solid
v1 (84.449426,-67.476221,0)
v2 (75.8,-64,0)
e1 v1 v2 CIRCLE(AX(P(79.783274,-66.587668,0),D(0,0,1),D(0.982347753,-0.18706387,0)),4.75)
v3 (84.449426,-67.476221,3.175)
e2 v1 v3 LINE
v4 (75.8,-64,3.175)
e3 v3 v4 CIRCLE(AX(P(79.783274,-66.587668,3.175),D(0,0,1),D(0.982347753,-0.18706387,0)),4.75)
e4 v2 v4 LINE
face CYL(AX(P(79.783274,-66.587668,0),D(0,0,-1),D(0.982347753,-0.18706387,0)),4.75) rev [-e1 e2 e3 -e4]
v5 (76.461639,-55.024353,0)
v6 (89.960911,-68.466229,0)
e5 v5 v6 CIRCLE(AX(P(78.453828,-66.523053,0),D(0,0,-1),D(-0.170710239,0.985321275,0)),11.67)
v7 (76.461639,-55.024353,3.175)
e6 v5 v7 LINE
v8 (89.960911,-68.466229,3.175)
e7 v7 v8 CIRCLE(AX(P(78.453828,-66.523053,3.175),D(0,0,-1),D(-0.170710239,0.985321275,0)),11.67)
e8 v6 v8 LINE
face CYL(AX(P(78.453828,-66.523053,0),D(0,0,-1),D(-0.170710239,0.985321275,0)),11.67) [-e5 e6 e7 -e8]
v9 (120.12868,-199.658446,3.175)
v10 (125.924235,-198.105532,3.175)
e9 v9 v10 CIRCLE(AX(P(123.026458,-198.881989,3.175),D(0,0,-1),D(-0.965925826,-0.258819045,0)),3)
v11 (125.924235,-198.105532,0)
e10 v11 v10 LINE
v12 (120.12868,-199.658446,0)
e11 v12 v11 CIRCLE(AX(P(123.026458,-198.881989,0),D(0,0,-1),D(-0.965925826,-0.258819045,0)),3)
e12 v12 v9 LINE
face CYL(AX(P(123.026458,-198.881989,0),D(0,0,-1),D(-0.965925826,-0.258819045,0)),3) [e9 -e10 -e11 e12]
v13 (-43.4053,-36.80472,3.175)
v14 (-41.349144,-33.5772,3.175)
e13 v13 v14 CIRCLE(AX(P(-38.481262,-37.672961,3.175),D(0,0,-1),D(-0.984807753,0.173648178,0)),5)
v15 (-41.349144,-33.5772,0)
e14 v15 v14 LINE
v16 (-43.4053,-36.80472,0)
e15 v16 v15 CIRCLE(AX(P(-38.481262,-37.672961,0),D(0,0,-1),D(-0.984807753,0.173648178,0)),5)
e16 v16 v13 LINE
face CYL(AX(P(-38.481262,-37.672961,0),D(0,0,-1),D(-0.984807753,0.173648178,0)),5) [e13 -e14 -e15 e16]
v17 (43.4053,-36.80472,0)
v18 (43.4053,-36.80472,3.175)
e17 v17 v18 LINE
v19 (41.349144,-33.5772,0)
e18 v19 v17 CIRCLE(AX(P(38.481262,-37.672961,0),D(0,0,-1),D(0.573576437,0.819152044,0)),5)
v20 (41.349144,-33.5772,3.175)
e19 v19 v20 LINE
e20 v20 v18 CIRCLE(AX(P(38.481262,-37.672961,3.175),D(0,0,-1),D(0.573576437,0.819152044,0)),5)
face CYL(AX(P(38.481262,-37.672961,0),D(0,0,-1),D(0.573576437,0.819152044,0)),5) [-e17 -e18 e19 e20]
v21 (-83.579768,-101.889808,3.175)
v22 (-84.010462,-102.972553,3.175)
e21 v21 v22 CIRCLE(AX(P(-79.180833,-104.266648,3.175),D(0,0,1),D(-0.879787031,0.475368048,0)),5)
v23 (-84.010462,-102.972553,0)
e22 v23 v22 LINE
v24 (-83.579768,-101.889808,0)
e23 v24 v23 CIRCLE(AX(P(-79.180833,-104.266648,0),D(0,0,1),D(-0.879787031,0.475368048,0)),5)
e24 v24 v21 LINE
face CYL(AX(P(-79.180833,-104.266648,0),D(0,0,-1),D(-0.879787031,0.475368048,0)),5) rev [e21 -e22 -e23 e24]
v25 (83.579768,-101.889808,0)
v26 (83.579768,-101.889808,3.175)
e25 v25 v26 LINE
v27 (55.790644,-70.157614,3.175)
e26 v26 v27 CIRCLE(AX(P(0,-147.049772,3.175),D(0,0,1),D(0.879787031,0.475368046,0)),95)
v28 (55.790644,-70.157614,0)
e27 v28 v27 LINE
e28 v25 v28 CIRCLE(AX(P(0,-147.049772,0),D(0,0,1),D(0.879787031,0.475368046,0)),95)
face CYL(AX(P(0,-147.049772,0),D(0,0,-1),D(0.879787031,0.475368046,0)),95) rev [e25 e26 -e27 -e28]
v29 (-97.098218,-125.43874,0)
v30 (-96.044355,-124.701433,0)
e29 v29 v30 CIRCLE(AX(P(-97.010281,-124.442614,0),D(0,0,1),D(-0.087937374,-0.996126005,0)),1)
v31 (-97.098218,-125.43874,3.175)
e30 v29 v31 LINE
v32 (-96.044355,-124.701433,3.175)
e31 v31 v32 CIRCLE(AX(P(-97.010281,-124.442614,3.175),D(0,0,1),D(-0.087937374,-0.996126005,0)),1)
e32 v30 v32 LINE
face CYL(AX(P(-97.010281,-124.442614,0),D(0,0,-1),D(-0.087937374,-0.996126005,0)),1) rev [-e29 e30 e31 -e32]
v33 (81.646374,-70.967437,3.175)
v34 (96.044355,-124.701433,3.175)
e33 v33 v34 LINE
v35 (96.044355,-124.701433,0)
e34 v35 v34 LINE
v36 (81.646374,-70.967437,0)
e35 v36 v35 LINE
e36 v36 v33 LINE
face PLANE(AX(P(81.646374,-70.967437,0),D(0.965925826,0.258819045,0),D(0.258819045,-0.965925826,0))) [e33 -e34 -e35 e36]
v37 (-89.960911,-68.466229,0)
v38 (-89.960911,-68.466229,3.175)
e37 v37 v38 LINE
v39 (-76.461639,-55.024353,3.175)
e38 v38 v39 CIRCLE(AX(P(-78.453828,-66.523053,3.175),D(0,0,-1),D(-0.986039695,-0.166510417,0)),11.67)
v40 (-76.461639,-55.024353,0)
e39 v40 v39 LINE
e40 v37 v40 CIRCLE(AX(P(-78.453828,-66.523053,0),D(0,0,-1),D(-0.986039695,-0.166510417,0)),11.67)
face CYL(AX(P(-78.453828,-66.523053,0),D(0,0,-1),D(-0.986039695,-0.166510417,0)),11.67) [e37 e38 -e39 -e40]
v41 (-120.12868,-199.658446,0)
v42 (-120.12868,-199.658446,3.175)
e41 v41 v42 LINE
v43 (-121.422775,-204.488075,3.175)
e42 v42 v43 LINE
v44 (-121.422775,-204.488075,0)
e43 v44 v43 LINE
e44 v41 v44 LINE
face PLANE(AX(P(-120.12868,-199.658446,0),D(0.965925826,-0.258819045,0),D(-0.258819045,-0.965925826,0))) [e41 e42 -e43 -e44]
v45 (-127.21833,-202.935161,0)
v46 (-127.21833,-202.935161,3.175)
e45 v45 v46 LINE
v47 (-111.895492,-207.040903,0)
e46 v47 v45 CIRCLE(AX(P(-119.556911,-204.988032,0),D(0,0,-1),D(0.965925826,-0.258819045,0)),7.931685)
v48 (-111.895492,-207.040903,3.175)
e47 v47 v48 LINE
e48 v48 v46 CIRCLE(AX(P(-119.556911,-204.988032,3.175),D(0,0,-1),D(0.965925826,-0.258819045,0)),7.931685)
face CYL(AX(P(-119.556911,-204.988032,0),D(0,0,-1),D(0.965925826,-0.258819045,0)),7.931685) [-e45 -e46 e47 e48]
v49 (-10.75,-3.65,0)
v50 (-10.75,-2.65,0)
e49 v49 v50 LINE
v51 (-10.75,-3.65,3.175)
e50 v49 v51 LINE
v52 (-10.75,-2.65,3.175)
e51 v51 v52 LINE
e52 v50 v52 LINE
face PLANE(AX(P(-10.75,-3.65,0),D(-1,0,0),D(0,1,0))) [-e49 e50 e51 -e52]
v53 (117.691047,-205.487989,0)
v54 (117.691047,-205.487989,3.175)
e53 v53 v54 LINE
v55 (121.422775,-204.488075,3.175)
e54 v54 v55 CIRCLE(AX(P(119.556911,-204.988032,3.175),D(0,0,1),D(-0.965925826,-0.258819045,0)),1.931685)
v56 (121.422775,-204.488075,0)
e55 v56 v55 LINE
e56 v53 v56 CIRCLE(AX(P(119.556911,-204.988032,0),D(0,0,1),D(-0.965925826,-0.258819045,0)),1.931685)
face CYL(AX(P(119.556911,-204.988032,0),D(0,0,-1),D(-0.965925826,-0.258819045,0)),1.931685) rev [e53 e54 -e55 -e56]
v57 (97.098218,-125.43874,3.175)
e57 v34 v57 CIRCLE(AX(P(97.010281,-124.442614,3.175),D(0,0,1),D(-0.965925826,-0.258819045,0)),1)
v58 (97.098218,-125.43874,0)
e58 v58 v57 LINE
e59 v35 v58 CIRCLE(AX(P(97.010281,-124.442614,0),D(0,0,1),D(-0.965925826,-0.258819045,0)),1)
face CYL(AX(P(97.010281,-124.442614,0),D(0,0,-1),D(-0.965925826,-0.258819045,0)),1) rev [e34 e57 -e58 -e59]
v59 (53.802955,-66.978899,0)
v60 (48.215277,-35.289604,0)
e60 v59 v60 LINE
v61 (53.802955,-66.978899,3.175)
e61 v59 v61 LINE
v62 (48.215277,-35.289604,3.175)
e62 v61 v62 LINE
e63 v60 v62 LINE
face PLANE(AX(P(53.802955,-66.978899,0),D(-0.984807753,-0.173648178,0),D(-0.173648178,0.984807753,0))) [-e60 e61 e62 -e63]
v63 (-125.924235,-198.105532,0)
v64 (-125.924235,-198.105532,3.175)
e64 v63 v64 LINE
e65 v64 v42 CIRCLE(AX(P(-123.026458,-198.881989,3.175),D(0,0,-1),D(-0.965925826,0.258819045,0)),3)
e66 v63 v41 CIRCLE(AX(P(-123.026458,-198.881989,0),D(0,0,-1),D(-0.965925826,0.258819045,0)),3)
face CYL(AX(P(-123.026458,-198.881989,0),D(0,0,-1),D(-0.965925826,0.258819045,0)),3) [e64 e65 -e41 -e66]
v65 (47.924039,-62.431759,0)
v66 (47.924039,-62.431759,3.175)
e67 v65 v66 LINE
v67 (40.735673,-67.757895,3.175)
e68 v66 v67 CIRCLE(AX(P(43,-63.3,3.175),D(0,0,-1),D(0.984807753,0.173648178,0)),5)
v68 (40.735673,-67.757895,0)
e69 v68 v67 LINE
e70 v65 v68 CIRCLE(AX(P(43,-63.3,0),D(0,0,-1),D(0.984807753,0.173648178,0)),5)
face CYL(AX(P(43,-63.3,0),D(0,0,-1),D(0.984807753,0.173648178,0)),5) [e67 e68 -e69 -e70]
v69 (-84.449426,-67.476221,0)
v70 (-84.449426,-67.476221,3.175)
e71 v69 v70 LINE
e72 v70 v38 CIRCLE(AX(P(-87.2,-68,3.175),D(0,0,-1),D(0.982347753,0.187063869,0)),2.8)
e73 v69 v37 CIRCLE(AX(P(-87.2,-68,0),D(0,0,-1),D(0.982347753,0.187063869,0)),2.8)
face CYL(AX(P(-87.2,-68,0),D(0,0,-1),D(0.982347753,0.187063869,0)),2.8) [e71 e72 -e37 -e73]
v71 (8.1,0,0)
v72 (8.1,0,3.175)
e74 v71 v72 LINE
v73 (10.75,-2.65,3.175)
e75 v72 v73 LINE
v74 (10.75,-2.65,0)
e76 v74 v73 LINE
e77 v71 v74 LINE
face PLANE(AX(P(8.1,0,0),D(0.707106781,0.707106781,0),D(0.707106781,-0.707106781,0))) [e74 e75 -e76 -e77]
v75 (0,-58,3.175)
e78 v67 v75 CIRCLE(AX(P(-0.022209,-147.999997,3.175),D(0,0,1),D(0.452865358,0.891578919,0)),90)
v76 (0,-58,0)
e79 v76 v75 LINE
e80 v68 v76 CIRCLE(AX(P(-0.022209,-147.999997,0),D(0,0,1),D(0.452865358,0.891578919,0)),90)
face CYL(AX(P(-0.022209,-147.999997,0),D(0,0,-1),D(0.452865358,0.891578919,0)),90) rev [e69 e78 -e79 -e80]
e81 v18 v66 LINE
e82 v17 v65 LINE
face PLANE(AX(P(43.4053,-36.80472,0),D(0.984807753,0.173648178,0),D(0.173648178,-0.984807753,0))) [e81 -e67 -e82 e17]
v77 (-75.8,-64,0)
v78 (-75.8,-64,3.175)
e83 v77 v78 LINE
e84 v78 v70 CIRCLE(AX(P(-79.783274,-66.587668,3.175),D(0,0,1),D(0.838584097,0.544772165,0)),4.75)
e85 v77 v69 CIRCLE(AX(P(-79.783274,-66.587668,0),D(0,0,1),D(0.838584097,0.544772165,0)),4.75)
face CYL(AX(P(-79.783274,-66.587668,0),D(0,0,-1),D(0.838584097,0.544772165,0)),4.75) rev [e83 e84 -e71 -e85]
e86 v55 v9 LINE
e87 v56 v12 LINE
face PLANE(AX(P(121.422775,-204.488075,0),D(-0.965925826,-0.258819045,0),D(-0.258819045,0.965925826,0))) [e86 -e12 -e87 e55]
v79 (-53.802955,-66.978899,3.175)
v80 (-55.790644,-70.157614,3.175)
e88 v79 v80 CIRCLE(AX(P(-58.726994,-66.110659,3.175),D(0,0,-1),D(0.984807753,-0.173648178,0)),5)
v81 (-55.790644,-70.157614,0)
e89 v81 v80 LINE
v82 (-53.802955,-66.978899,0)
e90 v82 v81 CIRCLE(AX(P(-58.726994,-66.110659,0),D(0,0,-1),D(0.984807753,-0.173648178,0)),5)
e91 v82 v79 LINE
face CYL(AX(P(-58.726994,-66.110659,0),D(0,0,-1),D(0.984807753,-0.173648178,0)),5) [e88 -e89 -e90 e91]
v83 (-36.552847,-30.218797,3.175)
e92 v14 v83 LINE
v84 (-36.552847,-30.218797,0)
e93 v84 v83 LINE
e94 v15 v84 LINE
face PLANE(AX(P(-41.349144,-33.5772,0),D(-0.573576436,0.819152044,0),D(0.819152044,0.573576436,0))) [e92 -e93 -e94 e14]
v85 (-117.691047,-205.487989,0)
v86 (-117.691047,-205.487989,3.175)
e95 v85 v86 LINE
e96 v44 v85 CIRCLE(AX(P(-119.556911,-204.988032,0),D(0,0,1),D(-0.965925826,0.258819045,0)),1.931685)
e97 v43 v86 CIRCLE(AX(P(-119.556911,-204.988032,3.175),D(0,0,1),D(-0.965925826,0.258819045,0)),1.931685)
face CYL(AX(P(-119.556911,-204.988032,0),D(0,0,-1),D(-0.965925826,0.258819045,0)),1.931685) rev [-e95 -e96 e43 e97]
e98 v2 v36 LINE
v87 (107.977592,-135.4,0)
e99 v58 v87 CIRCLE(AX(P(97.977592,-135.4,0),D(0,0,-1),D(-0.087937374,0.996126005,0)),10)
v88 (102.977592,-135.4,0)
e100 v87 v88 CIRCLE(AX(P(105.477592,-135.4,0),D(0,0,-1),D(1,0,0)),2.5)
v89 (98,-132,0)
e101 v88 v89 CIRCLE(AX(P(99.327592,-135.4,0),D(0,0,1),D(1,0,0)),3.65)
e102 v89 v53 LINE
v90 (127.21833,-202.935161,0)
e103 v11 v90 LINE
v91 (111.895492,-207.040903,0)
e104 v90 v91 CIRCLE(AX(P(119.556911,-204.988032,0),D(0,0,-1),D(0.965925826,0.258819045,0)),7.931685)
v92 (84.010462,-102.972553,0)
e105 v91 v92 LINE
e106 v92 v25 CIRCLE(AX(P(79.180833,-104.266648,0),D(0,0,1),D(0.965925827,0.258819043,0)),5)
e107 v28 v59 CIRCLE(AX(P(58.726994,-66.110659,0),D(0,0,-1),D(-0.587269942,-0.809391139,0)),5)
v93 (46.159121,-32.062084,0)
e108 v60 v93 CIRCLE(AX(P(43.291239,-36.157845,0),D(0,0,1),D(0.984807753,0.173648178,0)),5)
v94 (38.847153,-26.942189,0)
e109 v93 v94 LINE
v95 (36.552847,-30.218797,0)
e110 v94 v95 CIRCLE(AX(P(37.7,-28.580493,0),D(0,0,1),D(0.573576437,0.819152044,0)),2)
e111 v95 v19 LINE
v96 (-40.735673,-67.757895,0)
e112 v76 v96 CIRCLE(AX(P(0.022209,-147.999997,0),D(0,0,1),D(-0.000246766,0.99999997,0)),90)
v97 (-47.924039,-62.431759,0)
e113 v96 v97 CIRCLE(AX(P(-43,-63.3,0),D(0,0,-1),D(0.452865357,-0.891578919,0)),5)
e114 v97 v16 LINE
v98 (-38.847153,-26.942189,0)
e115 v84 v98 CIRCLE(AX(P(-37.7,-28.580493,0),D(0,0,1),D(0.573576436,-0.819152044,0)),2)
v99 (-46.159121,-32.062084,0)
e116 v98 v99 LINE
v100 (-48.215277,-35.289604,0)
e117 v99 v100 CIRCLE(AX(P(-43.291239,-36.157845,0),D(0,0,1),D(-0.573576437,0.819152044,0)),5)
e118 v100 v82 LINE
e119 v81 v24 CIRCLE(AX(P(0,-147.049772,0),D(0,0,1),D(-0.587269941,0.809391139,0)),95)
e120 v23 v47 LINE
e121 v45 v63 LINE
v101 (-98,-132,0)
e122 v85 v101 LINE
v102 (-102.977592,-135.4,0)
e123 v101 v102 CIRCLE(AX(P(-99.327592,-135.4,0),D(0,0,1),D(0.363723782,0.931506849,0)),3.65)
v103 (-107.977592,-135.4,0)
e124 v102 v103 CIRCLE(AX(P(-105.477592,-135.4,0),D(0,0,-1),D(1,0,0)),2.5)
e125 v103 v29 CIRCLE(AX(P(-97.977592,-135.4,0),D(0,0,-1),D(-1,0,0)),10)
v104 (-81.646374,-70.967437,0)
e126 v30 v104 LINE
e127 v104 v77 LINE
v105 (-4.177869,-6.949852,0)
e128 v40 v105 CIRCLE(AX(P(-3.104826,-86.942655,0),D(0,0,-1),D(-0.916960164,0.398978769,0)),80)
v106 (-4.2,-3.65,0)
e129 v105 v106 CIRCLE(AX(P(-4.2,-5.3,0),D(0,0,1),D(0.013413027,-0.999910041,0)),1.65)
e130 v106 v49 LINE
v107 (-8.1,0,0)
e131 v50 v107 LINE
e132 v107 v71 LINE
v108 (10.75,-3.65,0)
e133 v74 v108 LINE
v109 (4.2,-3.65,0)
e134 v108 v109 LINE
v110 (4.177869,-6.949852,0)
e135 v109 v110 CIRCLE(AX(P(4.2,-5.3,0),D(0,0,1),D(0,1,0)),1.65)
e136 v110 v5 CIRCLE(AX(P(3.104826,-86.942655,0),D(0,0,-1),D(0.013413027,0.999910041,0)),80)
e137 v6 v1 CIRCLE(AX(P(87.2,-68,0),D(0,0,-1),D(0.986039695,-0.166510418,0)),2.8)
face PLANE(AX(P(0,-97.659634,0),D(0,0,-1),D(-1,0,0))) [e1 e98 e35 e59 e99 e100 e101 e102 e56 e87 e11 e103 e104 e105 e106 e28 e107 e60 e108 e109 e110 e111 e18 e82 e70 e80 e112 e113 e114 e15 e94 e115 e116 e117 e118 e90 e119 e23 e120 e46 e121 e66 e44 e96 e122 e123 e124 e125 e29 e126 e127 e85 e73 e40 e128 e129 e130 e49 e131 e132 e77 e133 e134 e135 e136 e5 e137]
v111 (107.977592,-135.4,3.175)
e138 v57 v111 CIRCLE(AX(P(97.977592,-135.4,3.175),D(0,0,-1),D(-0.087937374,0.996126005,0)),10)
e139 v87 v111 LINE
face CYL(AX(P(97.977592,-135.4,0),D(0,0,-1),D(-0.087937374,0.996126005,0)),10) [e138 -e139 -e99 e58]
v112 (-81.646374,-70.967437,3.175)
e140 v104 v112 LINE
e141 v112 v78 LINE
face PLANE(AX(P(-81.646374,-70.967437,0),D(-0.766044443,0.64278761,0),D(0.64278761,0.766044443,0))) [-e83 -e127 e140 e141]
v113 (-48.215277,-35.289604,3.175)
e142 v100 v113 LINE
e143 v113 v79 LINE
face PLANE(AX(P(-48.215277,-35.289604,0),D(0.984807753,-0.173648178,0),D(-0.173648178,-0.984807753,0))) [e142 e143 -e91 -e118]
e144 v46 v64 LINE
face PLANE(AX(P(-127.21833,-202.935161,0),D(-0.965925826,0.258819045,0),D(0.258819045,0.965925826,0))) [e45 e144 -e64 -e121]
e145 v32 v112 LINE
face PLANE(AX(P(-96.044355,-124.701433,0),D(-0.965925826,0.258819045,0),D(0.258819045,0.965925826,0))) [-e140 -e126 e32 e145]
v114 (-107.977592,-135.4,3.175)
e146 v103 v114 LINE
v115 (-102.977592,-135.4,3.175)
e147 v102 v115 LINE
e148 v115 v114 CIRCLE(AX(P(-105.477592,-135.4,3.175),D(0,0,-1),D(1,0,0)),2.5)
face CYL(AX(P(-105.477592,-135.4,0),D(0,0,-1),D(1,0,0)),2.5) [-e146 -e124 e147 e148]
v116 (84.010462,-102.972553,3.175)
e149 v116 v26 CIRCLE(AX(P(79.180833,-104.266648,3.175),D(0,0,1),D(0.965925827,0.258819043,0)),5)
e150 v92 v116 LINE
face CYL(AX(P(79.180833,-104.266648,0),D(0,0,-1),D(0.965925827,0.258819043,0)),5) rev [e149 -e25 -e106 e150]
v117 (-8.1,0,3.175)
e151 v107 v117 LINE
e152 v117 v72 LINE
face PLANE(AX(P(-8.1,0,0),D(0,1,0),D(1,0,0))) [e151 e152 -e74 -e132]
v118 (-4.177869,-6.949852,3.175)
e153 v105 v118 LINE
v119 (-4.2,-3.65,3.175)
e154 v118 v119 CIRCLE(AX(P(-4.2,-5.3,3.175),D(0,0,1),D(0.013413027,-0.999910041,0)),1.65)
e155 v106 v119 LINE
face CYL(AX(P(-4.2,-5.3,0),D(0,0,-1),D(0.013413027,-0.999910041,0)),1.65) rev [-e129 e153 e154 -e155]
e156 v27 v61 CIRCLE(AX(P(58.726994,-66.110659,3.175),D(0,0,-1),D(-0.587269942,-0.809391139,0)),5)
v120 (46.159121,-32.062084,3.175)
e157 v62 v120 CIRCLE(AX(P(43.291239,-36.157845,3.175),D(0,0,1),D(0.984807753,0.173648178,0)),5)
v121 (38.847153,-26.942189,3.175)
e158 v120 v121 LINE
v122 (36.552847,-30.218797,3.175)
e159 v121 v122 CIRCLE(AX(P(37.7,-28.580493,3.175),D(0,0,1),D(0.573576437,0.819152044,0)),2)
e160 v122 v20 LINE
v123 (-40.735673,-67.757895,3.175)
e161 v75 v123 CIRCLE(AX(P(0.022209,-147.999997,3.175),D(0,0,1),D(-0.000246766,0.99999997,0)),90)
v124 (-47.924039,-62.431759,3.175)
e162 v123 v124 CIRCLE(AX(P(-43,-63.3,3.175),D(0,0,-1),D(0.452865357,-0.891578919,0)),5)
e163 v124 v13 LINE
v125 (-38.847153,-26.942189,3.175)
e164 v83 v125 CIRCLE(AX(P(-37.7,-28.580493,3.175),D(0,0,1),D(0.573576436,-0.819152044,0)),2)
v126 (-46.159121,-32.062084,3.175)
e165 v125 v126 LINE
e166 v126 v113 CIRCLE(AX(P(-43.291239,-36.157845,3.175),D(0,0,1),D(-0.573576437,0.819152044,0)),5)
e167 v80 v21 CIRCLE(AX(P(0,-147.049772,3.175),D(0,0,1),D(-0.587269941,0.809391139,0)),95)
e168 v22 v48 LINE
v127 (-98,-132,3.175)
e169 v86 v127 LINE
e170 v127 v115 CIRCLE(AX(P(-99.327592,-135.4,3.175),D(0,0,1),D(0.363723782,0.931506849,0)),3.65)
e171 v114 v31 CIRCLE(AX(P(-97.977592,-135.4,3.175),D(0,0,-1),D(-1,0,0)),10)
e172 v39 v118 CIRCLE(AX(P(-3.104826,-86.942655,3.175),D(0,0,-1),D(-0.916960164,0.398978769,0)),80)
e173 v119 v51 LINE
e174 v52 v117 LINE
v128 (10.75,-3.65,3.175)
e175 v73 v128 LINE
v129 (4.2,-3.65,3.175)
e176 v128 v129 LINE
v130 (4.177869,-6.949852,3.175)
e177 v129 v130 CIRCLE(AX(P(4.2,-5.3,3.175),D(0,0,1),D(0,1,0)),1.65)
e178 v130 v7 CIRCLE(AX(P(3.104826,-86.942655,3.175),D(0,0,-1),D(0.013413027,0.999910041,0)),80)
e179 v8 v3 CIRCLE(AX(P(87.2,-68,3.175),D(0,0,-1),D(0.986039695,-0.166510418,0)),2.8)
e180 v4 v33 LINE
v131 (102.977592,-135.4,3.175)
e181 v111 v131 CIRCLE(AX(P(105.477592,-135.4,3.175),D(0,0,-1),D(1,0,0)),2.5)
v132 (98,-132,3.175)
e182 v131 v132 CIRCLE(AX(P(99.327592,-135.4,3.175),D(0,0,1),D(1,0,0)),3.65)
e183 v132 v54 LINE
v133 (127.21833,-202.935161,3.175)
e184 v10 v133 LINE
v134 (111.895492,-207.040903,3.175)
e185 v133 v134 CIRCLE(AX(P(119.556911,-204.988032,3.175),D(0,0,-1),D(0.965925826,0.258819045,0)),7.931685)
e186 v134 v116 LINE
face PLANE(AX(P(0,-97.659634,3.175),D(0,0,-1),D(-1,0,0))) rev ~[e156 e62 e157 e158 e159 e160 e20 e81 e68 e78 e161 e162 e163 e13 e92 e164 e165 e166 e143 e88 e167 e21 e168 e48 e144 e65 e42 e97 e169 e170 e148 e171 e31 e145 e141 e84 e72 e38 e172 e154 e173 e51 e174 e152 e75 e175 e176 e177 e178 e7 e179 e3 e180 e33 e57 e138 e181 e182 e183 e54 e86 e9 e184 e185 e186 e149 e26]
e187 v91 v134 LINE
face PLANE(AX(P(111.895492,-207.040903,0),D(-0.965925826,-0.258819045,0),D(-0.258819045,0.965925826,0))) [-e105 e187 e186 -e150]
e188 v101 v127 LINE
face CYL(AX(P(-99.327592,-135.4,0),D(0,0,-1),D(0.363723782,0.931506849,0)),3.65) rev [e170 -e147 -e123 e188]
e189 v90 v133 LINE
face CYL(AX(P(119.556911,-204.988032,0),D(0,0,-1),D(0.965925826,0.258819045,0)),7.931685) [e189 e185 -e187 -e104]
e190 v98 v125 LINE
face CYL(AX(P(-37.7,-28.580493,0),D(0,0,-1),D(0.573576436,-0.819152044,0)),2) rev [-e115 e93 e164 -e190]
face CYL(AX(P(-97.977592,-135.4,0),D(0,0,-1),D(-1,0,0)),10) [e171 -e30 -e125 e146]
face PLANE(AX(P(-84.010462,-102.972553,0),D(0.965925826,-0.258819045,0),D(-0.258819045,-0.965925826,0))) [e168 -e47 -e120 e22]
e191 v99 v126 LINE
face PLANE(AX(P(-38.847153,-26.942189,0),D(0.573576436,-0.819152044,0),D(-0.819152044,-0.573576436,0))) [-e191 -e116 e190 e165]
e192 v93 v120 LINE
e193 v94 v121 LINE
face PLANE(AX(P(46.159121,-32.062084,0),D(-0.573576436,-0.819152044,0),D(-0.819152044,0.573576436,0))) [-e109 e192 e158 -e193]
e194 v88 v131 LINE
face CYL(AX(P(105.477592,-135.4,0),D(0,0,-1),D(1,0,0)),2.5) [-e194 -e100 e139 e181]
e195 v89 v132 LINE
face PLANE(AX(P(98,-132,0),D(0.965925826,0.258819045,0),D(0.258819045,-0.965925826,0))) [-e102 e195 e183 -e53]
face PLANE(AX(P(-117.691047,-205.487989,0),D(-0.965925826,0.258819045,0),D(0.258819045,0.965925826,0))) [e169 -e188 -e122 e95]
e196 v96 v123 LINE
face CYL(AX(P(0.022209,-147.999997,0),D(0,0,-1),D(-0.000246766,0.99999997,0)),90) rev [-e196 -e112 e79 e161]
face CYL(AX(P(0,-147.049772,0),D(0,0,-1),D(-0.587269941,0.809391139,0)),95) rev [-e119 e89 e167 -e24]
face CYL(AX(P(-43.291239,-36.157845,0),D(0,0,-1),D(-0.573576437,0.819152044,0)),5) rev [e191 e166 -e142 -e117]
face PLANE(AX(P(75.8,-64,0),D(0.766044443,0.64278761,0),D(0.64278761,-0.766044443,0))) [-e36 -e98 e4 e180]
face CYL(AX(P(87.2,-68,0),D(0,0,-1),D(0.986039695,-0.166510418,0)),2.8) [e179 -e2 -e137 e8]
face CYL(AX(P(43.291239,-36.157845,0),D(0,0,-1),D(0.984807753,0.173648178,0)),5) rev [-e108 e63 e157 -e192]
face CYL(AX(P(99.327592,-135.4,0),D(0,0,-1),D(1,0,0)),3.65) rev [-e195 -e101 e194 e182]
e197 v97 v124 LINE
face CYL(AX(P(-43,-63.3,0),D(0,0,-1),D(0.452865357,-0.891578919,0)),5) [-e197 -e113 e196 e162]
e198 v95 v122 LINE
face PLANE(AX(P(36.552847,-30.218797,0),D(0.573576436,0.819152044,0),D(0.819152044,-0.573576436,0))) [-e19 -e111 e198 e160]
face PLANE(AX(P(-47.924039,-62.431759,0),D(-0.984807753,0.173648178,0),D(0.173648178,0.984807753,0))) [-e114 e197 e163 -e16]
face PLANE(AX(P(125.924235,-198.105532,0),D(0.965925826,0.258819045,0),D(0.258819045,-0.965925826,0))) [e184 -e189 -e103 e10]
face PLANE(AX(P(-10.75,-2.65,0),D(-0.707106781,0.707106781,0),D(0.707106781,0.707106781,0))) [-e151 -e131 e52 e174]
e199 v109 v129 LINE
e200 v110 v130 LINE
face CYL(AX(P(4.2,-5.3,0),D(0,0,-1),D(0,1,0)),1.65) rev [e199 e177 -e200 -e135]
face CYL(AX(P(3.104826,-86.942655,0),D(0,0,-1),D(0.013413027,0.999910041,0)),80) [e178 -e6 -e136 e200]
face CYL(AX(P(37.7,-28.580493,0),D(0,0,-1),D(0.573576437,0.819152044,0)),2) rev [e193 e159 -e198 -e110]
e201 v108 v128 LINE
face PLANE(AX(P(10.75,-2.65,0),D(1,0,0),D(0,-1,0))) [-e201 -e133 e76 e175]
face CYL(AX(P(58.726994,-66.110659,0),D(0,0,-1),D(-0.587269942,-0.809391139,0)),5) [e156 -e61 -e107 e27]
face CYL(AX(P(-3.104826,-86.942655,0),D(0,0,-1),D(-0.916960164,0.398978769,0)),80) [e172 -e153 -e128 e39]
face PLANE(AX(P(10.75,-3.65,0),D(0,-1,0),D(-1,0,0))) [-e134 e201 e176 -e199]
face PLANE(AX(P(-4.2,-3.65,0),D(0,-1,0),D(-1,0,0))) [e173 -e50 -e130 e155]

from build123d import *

# Parameters (mm, degrees)
BOSS_EXTRUDE1_DEPTH = 3.175


with BuildPart() as part:
    # Sketch1 → Boss-Extrude1 (new body)
    with BuildSketch(Plane.XY):
        with BuildLine():
            Line((-8.1, 0), (8.1, 0))
            Line((8.1, 0), (10.75, -2.65))
            Line((10.75, -2.65), (10.75, -3.65))
            Line((10.75, -3.65), (4.2, -3.65))
            ThreePointArc((4.2, -3.65), (2.550037108, -5.288934004), (4.177868505, -6.949851568))
            ThreePointArc((4.177868505, -6.949851568), (47.407650937, -20.329895347), (76.461639413, -55.024353322))
            ThreePointArc((76.461639413, -55.024353322), (86.688165284, -58.25355516), (89.960911147, -68.466229169))
            ThreePointArc((89.960911147, -68.466229169), (86.704969014, -70.755892654), (84.44942629, -67.476221165))
            ThreePointArc((84.44942629, -67.476221165), (81.554604124, -62.18029995), (75.8, -64))
            Line((75.8, -64), (81.646374133, -70.967437377))
            Line((81.646374133, -70.967437377), (96.044354863, -124.701432988))
            ThreePointArc((96.044354863, -124.701432988), (96.437025669, -125.261990951), (97.098218064, -125.438739948))
            ThreePointArc((97.098218064, -125.438739948), (104.73060086, -128.02457671), (107.977591805, -135.4))
            ThreePointArc((107.977591805, -135.4), (105.477591805, -137.9), (102.977591805, -135.4))
            ThreePointArc((102.977591805, -135.4), (101.386328057, -132.386015089), (98, -132))
            Line((98, -132), (117.691047305, -205.487988996))
            ThreePointArc((117.691047305, -205.487988996), (120.056868172, -206.85389631), (121.422775486, -204.488075443))
            Line((121.422775486, -204.488075443), (120.128680261, -199.658446312))
            ThreePointArc((120.128680261, -199.658446312), (122.250000605, -195.984211697), (125.924235219, -198.105532041))
            Line((125.924235219, -198.105532041), (127.218330444, -202.935161172))
            ThreePointArc((127.218330444, -202.935161172), (121.609782443, -212.649451268), (111.895492347, -207.040903266))
            Line((111.895492347, -207.040903266), (84.010461962, -102.9725531))
            ThreePointArc((84.010461962, -102.9725531), (83.826764804, -102.418590939), (83.579767988, -101.889808095))
            ThreePointArc((83.579767988, -101.889808095), (71.468601459, -84.461922175), (55.79064441, -70.157614254))
            ThreePointArc((55.79064441, -70.157614254), (54.487597498, -68.761604863), (53.802955351, -66.978899446))
            Line((53.802955351, -66.978899446), (48.2152775, -35.289603638))
            ThreePointArc((48.2152775, -35.289603638), (47.508195964, -33.471346485), (46.159120917, -32.062084305))
            Line((46.159120917, -32.062084305), (38.847152873, -26.942189162))
            ThreePointArc((38.847152873, -26.942189162), (36.061695911, -27.433340377), (36.552847127, -30.218797339))
            Line((36.552847127, -30.218797339), (41.349143695, -33.577200351))
            ThreePointArc((41.349143695, -33.577200351), (42.698218742, -34.986462531), (43.405300278, -36.804719684))
            Line((43.405300278, -36.804719684), (47.924038765, -62.431759112))
            ThreePointArc((47.924038765, -62.431759112), (45.976650255, -67.317406285), (40.735673212, -67.757894593))
            ThreePointArc((40.735673212, -67.757894593), (20.943431619, -60.476046738), (0, -58))
            ThreePointArc((0, -58), (-20.943431619, -60.476046738), (-40.735673212, -67.757894593))
            ThreePointArc((-40.735673212, -67.757894593), (-45.976650255, -67.317406285), (-47.924038765, -62.431759112))
            Line((-47.924038765, -62.431759112), (-43.405300278, -36.804719684))
            ThreePointArc((-43.405300278, -36.804719684), (-42.698218742, -34.986462531), (-41.349143695, -33.577200351))
            Line((-41.349143695, -33.577200351), (-36.552847127, -30.218797339))
            ThreePointArc((-36.552847127, -30.218797339), (-36.061695911, -27.433340377), (-38.847152873, -26.942189162))
            Line((-38.847152873, -26.942189162), (-46.159120917, -32.062084305))
            ThreePointArc((-46.159120917, -32.062084305), (-47.508195964, -33.471346485), (-48.2152775, -35.289603638))
            Line((-48.2152775, -35.289603638), (-53.802955351, -66.978899446))
            ThreePointArc((-53.802955351, -66.978899446), (-54.487597498, -68.761604863), (-55.79064441, -70.157614254))
            ThreePointArc((-55.79064441, -70.157614254), (-71.468601459, -84.461922175), (-83.579767988, -101.889808095))
            ThreePointArc((-83.579767988, -101.889808095), (-83.826764804, -102.418590939), (-84.010461962, -102.9725531))
            Line((-84.010461962, -102.9725531), (-111.895492347, -207.040903266))
            ThreePointArc((-111.895492347, -207.040903266), (-121.609782443, -212.649451268), (-127.218330444, -202.935161172))
            Line((-127.218330444, -202.935161172), (-125.924235219, -198.105532041))
            ThreePointArc((-125.924235219, -198.105532041), (-122.250000605, -195.984211697), (-120.128680261, -199.658446312))
            Line((-120.128680261, -199.658446312), (-121.422775486, -204.488075443))
            ThreePointArc((-121.422775486, -204.488075443), (-120.056868172, -206.85389631), (-117.691047305, -205.487988996))
            Line((-117.691047305, -205.487988996), (-98, -132))
            ThreePointArc((-98, -132), (-101.386328057, -132.386015089), (-102.977591805, -135.4))
            ThreePointArc((-102.977591805, -135.4), (-105.477591805, -137.9), (-107.977591805, -135.4))
            ThreePointArc((-107.977591805, -135.4), (-104.73060086, -128.02457671), (-97.098218064, -125.438739948))
            ThreePointArc((-97.098218064, -125.438739948), (-96.437025669, -125.261990951), (-96.044354863, -124.701432988))
            Line((-96.044354863, -124.701432988), (-81.646374133, -70.967437377))
            Line((-81.646374133, -70.967437377), (-75.8, -64))
            ThreePointArc((-75.8, -64), (-81.554604124, -62.18029995), (-84.44942629, -67.476221165))
            ThreePointArc((-84.44942629, -67.476221165), (-86.704969014, -70.755892654), (-89.960911147, -68.466229169))
            ThreePointArc((-89.960911147, -68.466229169), (-86.688165284, -58.25355516), (-76.461639413, -55.024353322))
            ThreePointArc((-76.461639413, -55.024353322), (-47.407650937, -20.329895347), (-4.177868505, -6.949851568))
            ThreePointArc((-4.177868505, -6.949851568), (-2.550037108, -5.288934004), (-4.2, -3.65))
            Line((-4.2, -3.65), (-10.75, -3.65))
            Line((-10.75, -3.65), (-10.75, -2.65))
            Line((-10.75, -2.65), (-8.1, 0))
        make_face()
    extrude(amount=BOSS_EXTRUDE1_DEPTH)


solid = part.part
